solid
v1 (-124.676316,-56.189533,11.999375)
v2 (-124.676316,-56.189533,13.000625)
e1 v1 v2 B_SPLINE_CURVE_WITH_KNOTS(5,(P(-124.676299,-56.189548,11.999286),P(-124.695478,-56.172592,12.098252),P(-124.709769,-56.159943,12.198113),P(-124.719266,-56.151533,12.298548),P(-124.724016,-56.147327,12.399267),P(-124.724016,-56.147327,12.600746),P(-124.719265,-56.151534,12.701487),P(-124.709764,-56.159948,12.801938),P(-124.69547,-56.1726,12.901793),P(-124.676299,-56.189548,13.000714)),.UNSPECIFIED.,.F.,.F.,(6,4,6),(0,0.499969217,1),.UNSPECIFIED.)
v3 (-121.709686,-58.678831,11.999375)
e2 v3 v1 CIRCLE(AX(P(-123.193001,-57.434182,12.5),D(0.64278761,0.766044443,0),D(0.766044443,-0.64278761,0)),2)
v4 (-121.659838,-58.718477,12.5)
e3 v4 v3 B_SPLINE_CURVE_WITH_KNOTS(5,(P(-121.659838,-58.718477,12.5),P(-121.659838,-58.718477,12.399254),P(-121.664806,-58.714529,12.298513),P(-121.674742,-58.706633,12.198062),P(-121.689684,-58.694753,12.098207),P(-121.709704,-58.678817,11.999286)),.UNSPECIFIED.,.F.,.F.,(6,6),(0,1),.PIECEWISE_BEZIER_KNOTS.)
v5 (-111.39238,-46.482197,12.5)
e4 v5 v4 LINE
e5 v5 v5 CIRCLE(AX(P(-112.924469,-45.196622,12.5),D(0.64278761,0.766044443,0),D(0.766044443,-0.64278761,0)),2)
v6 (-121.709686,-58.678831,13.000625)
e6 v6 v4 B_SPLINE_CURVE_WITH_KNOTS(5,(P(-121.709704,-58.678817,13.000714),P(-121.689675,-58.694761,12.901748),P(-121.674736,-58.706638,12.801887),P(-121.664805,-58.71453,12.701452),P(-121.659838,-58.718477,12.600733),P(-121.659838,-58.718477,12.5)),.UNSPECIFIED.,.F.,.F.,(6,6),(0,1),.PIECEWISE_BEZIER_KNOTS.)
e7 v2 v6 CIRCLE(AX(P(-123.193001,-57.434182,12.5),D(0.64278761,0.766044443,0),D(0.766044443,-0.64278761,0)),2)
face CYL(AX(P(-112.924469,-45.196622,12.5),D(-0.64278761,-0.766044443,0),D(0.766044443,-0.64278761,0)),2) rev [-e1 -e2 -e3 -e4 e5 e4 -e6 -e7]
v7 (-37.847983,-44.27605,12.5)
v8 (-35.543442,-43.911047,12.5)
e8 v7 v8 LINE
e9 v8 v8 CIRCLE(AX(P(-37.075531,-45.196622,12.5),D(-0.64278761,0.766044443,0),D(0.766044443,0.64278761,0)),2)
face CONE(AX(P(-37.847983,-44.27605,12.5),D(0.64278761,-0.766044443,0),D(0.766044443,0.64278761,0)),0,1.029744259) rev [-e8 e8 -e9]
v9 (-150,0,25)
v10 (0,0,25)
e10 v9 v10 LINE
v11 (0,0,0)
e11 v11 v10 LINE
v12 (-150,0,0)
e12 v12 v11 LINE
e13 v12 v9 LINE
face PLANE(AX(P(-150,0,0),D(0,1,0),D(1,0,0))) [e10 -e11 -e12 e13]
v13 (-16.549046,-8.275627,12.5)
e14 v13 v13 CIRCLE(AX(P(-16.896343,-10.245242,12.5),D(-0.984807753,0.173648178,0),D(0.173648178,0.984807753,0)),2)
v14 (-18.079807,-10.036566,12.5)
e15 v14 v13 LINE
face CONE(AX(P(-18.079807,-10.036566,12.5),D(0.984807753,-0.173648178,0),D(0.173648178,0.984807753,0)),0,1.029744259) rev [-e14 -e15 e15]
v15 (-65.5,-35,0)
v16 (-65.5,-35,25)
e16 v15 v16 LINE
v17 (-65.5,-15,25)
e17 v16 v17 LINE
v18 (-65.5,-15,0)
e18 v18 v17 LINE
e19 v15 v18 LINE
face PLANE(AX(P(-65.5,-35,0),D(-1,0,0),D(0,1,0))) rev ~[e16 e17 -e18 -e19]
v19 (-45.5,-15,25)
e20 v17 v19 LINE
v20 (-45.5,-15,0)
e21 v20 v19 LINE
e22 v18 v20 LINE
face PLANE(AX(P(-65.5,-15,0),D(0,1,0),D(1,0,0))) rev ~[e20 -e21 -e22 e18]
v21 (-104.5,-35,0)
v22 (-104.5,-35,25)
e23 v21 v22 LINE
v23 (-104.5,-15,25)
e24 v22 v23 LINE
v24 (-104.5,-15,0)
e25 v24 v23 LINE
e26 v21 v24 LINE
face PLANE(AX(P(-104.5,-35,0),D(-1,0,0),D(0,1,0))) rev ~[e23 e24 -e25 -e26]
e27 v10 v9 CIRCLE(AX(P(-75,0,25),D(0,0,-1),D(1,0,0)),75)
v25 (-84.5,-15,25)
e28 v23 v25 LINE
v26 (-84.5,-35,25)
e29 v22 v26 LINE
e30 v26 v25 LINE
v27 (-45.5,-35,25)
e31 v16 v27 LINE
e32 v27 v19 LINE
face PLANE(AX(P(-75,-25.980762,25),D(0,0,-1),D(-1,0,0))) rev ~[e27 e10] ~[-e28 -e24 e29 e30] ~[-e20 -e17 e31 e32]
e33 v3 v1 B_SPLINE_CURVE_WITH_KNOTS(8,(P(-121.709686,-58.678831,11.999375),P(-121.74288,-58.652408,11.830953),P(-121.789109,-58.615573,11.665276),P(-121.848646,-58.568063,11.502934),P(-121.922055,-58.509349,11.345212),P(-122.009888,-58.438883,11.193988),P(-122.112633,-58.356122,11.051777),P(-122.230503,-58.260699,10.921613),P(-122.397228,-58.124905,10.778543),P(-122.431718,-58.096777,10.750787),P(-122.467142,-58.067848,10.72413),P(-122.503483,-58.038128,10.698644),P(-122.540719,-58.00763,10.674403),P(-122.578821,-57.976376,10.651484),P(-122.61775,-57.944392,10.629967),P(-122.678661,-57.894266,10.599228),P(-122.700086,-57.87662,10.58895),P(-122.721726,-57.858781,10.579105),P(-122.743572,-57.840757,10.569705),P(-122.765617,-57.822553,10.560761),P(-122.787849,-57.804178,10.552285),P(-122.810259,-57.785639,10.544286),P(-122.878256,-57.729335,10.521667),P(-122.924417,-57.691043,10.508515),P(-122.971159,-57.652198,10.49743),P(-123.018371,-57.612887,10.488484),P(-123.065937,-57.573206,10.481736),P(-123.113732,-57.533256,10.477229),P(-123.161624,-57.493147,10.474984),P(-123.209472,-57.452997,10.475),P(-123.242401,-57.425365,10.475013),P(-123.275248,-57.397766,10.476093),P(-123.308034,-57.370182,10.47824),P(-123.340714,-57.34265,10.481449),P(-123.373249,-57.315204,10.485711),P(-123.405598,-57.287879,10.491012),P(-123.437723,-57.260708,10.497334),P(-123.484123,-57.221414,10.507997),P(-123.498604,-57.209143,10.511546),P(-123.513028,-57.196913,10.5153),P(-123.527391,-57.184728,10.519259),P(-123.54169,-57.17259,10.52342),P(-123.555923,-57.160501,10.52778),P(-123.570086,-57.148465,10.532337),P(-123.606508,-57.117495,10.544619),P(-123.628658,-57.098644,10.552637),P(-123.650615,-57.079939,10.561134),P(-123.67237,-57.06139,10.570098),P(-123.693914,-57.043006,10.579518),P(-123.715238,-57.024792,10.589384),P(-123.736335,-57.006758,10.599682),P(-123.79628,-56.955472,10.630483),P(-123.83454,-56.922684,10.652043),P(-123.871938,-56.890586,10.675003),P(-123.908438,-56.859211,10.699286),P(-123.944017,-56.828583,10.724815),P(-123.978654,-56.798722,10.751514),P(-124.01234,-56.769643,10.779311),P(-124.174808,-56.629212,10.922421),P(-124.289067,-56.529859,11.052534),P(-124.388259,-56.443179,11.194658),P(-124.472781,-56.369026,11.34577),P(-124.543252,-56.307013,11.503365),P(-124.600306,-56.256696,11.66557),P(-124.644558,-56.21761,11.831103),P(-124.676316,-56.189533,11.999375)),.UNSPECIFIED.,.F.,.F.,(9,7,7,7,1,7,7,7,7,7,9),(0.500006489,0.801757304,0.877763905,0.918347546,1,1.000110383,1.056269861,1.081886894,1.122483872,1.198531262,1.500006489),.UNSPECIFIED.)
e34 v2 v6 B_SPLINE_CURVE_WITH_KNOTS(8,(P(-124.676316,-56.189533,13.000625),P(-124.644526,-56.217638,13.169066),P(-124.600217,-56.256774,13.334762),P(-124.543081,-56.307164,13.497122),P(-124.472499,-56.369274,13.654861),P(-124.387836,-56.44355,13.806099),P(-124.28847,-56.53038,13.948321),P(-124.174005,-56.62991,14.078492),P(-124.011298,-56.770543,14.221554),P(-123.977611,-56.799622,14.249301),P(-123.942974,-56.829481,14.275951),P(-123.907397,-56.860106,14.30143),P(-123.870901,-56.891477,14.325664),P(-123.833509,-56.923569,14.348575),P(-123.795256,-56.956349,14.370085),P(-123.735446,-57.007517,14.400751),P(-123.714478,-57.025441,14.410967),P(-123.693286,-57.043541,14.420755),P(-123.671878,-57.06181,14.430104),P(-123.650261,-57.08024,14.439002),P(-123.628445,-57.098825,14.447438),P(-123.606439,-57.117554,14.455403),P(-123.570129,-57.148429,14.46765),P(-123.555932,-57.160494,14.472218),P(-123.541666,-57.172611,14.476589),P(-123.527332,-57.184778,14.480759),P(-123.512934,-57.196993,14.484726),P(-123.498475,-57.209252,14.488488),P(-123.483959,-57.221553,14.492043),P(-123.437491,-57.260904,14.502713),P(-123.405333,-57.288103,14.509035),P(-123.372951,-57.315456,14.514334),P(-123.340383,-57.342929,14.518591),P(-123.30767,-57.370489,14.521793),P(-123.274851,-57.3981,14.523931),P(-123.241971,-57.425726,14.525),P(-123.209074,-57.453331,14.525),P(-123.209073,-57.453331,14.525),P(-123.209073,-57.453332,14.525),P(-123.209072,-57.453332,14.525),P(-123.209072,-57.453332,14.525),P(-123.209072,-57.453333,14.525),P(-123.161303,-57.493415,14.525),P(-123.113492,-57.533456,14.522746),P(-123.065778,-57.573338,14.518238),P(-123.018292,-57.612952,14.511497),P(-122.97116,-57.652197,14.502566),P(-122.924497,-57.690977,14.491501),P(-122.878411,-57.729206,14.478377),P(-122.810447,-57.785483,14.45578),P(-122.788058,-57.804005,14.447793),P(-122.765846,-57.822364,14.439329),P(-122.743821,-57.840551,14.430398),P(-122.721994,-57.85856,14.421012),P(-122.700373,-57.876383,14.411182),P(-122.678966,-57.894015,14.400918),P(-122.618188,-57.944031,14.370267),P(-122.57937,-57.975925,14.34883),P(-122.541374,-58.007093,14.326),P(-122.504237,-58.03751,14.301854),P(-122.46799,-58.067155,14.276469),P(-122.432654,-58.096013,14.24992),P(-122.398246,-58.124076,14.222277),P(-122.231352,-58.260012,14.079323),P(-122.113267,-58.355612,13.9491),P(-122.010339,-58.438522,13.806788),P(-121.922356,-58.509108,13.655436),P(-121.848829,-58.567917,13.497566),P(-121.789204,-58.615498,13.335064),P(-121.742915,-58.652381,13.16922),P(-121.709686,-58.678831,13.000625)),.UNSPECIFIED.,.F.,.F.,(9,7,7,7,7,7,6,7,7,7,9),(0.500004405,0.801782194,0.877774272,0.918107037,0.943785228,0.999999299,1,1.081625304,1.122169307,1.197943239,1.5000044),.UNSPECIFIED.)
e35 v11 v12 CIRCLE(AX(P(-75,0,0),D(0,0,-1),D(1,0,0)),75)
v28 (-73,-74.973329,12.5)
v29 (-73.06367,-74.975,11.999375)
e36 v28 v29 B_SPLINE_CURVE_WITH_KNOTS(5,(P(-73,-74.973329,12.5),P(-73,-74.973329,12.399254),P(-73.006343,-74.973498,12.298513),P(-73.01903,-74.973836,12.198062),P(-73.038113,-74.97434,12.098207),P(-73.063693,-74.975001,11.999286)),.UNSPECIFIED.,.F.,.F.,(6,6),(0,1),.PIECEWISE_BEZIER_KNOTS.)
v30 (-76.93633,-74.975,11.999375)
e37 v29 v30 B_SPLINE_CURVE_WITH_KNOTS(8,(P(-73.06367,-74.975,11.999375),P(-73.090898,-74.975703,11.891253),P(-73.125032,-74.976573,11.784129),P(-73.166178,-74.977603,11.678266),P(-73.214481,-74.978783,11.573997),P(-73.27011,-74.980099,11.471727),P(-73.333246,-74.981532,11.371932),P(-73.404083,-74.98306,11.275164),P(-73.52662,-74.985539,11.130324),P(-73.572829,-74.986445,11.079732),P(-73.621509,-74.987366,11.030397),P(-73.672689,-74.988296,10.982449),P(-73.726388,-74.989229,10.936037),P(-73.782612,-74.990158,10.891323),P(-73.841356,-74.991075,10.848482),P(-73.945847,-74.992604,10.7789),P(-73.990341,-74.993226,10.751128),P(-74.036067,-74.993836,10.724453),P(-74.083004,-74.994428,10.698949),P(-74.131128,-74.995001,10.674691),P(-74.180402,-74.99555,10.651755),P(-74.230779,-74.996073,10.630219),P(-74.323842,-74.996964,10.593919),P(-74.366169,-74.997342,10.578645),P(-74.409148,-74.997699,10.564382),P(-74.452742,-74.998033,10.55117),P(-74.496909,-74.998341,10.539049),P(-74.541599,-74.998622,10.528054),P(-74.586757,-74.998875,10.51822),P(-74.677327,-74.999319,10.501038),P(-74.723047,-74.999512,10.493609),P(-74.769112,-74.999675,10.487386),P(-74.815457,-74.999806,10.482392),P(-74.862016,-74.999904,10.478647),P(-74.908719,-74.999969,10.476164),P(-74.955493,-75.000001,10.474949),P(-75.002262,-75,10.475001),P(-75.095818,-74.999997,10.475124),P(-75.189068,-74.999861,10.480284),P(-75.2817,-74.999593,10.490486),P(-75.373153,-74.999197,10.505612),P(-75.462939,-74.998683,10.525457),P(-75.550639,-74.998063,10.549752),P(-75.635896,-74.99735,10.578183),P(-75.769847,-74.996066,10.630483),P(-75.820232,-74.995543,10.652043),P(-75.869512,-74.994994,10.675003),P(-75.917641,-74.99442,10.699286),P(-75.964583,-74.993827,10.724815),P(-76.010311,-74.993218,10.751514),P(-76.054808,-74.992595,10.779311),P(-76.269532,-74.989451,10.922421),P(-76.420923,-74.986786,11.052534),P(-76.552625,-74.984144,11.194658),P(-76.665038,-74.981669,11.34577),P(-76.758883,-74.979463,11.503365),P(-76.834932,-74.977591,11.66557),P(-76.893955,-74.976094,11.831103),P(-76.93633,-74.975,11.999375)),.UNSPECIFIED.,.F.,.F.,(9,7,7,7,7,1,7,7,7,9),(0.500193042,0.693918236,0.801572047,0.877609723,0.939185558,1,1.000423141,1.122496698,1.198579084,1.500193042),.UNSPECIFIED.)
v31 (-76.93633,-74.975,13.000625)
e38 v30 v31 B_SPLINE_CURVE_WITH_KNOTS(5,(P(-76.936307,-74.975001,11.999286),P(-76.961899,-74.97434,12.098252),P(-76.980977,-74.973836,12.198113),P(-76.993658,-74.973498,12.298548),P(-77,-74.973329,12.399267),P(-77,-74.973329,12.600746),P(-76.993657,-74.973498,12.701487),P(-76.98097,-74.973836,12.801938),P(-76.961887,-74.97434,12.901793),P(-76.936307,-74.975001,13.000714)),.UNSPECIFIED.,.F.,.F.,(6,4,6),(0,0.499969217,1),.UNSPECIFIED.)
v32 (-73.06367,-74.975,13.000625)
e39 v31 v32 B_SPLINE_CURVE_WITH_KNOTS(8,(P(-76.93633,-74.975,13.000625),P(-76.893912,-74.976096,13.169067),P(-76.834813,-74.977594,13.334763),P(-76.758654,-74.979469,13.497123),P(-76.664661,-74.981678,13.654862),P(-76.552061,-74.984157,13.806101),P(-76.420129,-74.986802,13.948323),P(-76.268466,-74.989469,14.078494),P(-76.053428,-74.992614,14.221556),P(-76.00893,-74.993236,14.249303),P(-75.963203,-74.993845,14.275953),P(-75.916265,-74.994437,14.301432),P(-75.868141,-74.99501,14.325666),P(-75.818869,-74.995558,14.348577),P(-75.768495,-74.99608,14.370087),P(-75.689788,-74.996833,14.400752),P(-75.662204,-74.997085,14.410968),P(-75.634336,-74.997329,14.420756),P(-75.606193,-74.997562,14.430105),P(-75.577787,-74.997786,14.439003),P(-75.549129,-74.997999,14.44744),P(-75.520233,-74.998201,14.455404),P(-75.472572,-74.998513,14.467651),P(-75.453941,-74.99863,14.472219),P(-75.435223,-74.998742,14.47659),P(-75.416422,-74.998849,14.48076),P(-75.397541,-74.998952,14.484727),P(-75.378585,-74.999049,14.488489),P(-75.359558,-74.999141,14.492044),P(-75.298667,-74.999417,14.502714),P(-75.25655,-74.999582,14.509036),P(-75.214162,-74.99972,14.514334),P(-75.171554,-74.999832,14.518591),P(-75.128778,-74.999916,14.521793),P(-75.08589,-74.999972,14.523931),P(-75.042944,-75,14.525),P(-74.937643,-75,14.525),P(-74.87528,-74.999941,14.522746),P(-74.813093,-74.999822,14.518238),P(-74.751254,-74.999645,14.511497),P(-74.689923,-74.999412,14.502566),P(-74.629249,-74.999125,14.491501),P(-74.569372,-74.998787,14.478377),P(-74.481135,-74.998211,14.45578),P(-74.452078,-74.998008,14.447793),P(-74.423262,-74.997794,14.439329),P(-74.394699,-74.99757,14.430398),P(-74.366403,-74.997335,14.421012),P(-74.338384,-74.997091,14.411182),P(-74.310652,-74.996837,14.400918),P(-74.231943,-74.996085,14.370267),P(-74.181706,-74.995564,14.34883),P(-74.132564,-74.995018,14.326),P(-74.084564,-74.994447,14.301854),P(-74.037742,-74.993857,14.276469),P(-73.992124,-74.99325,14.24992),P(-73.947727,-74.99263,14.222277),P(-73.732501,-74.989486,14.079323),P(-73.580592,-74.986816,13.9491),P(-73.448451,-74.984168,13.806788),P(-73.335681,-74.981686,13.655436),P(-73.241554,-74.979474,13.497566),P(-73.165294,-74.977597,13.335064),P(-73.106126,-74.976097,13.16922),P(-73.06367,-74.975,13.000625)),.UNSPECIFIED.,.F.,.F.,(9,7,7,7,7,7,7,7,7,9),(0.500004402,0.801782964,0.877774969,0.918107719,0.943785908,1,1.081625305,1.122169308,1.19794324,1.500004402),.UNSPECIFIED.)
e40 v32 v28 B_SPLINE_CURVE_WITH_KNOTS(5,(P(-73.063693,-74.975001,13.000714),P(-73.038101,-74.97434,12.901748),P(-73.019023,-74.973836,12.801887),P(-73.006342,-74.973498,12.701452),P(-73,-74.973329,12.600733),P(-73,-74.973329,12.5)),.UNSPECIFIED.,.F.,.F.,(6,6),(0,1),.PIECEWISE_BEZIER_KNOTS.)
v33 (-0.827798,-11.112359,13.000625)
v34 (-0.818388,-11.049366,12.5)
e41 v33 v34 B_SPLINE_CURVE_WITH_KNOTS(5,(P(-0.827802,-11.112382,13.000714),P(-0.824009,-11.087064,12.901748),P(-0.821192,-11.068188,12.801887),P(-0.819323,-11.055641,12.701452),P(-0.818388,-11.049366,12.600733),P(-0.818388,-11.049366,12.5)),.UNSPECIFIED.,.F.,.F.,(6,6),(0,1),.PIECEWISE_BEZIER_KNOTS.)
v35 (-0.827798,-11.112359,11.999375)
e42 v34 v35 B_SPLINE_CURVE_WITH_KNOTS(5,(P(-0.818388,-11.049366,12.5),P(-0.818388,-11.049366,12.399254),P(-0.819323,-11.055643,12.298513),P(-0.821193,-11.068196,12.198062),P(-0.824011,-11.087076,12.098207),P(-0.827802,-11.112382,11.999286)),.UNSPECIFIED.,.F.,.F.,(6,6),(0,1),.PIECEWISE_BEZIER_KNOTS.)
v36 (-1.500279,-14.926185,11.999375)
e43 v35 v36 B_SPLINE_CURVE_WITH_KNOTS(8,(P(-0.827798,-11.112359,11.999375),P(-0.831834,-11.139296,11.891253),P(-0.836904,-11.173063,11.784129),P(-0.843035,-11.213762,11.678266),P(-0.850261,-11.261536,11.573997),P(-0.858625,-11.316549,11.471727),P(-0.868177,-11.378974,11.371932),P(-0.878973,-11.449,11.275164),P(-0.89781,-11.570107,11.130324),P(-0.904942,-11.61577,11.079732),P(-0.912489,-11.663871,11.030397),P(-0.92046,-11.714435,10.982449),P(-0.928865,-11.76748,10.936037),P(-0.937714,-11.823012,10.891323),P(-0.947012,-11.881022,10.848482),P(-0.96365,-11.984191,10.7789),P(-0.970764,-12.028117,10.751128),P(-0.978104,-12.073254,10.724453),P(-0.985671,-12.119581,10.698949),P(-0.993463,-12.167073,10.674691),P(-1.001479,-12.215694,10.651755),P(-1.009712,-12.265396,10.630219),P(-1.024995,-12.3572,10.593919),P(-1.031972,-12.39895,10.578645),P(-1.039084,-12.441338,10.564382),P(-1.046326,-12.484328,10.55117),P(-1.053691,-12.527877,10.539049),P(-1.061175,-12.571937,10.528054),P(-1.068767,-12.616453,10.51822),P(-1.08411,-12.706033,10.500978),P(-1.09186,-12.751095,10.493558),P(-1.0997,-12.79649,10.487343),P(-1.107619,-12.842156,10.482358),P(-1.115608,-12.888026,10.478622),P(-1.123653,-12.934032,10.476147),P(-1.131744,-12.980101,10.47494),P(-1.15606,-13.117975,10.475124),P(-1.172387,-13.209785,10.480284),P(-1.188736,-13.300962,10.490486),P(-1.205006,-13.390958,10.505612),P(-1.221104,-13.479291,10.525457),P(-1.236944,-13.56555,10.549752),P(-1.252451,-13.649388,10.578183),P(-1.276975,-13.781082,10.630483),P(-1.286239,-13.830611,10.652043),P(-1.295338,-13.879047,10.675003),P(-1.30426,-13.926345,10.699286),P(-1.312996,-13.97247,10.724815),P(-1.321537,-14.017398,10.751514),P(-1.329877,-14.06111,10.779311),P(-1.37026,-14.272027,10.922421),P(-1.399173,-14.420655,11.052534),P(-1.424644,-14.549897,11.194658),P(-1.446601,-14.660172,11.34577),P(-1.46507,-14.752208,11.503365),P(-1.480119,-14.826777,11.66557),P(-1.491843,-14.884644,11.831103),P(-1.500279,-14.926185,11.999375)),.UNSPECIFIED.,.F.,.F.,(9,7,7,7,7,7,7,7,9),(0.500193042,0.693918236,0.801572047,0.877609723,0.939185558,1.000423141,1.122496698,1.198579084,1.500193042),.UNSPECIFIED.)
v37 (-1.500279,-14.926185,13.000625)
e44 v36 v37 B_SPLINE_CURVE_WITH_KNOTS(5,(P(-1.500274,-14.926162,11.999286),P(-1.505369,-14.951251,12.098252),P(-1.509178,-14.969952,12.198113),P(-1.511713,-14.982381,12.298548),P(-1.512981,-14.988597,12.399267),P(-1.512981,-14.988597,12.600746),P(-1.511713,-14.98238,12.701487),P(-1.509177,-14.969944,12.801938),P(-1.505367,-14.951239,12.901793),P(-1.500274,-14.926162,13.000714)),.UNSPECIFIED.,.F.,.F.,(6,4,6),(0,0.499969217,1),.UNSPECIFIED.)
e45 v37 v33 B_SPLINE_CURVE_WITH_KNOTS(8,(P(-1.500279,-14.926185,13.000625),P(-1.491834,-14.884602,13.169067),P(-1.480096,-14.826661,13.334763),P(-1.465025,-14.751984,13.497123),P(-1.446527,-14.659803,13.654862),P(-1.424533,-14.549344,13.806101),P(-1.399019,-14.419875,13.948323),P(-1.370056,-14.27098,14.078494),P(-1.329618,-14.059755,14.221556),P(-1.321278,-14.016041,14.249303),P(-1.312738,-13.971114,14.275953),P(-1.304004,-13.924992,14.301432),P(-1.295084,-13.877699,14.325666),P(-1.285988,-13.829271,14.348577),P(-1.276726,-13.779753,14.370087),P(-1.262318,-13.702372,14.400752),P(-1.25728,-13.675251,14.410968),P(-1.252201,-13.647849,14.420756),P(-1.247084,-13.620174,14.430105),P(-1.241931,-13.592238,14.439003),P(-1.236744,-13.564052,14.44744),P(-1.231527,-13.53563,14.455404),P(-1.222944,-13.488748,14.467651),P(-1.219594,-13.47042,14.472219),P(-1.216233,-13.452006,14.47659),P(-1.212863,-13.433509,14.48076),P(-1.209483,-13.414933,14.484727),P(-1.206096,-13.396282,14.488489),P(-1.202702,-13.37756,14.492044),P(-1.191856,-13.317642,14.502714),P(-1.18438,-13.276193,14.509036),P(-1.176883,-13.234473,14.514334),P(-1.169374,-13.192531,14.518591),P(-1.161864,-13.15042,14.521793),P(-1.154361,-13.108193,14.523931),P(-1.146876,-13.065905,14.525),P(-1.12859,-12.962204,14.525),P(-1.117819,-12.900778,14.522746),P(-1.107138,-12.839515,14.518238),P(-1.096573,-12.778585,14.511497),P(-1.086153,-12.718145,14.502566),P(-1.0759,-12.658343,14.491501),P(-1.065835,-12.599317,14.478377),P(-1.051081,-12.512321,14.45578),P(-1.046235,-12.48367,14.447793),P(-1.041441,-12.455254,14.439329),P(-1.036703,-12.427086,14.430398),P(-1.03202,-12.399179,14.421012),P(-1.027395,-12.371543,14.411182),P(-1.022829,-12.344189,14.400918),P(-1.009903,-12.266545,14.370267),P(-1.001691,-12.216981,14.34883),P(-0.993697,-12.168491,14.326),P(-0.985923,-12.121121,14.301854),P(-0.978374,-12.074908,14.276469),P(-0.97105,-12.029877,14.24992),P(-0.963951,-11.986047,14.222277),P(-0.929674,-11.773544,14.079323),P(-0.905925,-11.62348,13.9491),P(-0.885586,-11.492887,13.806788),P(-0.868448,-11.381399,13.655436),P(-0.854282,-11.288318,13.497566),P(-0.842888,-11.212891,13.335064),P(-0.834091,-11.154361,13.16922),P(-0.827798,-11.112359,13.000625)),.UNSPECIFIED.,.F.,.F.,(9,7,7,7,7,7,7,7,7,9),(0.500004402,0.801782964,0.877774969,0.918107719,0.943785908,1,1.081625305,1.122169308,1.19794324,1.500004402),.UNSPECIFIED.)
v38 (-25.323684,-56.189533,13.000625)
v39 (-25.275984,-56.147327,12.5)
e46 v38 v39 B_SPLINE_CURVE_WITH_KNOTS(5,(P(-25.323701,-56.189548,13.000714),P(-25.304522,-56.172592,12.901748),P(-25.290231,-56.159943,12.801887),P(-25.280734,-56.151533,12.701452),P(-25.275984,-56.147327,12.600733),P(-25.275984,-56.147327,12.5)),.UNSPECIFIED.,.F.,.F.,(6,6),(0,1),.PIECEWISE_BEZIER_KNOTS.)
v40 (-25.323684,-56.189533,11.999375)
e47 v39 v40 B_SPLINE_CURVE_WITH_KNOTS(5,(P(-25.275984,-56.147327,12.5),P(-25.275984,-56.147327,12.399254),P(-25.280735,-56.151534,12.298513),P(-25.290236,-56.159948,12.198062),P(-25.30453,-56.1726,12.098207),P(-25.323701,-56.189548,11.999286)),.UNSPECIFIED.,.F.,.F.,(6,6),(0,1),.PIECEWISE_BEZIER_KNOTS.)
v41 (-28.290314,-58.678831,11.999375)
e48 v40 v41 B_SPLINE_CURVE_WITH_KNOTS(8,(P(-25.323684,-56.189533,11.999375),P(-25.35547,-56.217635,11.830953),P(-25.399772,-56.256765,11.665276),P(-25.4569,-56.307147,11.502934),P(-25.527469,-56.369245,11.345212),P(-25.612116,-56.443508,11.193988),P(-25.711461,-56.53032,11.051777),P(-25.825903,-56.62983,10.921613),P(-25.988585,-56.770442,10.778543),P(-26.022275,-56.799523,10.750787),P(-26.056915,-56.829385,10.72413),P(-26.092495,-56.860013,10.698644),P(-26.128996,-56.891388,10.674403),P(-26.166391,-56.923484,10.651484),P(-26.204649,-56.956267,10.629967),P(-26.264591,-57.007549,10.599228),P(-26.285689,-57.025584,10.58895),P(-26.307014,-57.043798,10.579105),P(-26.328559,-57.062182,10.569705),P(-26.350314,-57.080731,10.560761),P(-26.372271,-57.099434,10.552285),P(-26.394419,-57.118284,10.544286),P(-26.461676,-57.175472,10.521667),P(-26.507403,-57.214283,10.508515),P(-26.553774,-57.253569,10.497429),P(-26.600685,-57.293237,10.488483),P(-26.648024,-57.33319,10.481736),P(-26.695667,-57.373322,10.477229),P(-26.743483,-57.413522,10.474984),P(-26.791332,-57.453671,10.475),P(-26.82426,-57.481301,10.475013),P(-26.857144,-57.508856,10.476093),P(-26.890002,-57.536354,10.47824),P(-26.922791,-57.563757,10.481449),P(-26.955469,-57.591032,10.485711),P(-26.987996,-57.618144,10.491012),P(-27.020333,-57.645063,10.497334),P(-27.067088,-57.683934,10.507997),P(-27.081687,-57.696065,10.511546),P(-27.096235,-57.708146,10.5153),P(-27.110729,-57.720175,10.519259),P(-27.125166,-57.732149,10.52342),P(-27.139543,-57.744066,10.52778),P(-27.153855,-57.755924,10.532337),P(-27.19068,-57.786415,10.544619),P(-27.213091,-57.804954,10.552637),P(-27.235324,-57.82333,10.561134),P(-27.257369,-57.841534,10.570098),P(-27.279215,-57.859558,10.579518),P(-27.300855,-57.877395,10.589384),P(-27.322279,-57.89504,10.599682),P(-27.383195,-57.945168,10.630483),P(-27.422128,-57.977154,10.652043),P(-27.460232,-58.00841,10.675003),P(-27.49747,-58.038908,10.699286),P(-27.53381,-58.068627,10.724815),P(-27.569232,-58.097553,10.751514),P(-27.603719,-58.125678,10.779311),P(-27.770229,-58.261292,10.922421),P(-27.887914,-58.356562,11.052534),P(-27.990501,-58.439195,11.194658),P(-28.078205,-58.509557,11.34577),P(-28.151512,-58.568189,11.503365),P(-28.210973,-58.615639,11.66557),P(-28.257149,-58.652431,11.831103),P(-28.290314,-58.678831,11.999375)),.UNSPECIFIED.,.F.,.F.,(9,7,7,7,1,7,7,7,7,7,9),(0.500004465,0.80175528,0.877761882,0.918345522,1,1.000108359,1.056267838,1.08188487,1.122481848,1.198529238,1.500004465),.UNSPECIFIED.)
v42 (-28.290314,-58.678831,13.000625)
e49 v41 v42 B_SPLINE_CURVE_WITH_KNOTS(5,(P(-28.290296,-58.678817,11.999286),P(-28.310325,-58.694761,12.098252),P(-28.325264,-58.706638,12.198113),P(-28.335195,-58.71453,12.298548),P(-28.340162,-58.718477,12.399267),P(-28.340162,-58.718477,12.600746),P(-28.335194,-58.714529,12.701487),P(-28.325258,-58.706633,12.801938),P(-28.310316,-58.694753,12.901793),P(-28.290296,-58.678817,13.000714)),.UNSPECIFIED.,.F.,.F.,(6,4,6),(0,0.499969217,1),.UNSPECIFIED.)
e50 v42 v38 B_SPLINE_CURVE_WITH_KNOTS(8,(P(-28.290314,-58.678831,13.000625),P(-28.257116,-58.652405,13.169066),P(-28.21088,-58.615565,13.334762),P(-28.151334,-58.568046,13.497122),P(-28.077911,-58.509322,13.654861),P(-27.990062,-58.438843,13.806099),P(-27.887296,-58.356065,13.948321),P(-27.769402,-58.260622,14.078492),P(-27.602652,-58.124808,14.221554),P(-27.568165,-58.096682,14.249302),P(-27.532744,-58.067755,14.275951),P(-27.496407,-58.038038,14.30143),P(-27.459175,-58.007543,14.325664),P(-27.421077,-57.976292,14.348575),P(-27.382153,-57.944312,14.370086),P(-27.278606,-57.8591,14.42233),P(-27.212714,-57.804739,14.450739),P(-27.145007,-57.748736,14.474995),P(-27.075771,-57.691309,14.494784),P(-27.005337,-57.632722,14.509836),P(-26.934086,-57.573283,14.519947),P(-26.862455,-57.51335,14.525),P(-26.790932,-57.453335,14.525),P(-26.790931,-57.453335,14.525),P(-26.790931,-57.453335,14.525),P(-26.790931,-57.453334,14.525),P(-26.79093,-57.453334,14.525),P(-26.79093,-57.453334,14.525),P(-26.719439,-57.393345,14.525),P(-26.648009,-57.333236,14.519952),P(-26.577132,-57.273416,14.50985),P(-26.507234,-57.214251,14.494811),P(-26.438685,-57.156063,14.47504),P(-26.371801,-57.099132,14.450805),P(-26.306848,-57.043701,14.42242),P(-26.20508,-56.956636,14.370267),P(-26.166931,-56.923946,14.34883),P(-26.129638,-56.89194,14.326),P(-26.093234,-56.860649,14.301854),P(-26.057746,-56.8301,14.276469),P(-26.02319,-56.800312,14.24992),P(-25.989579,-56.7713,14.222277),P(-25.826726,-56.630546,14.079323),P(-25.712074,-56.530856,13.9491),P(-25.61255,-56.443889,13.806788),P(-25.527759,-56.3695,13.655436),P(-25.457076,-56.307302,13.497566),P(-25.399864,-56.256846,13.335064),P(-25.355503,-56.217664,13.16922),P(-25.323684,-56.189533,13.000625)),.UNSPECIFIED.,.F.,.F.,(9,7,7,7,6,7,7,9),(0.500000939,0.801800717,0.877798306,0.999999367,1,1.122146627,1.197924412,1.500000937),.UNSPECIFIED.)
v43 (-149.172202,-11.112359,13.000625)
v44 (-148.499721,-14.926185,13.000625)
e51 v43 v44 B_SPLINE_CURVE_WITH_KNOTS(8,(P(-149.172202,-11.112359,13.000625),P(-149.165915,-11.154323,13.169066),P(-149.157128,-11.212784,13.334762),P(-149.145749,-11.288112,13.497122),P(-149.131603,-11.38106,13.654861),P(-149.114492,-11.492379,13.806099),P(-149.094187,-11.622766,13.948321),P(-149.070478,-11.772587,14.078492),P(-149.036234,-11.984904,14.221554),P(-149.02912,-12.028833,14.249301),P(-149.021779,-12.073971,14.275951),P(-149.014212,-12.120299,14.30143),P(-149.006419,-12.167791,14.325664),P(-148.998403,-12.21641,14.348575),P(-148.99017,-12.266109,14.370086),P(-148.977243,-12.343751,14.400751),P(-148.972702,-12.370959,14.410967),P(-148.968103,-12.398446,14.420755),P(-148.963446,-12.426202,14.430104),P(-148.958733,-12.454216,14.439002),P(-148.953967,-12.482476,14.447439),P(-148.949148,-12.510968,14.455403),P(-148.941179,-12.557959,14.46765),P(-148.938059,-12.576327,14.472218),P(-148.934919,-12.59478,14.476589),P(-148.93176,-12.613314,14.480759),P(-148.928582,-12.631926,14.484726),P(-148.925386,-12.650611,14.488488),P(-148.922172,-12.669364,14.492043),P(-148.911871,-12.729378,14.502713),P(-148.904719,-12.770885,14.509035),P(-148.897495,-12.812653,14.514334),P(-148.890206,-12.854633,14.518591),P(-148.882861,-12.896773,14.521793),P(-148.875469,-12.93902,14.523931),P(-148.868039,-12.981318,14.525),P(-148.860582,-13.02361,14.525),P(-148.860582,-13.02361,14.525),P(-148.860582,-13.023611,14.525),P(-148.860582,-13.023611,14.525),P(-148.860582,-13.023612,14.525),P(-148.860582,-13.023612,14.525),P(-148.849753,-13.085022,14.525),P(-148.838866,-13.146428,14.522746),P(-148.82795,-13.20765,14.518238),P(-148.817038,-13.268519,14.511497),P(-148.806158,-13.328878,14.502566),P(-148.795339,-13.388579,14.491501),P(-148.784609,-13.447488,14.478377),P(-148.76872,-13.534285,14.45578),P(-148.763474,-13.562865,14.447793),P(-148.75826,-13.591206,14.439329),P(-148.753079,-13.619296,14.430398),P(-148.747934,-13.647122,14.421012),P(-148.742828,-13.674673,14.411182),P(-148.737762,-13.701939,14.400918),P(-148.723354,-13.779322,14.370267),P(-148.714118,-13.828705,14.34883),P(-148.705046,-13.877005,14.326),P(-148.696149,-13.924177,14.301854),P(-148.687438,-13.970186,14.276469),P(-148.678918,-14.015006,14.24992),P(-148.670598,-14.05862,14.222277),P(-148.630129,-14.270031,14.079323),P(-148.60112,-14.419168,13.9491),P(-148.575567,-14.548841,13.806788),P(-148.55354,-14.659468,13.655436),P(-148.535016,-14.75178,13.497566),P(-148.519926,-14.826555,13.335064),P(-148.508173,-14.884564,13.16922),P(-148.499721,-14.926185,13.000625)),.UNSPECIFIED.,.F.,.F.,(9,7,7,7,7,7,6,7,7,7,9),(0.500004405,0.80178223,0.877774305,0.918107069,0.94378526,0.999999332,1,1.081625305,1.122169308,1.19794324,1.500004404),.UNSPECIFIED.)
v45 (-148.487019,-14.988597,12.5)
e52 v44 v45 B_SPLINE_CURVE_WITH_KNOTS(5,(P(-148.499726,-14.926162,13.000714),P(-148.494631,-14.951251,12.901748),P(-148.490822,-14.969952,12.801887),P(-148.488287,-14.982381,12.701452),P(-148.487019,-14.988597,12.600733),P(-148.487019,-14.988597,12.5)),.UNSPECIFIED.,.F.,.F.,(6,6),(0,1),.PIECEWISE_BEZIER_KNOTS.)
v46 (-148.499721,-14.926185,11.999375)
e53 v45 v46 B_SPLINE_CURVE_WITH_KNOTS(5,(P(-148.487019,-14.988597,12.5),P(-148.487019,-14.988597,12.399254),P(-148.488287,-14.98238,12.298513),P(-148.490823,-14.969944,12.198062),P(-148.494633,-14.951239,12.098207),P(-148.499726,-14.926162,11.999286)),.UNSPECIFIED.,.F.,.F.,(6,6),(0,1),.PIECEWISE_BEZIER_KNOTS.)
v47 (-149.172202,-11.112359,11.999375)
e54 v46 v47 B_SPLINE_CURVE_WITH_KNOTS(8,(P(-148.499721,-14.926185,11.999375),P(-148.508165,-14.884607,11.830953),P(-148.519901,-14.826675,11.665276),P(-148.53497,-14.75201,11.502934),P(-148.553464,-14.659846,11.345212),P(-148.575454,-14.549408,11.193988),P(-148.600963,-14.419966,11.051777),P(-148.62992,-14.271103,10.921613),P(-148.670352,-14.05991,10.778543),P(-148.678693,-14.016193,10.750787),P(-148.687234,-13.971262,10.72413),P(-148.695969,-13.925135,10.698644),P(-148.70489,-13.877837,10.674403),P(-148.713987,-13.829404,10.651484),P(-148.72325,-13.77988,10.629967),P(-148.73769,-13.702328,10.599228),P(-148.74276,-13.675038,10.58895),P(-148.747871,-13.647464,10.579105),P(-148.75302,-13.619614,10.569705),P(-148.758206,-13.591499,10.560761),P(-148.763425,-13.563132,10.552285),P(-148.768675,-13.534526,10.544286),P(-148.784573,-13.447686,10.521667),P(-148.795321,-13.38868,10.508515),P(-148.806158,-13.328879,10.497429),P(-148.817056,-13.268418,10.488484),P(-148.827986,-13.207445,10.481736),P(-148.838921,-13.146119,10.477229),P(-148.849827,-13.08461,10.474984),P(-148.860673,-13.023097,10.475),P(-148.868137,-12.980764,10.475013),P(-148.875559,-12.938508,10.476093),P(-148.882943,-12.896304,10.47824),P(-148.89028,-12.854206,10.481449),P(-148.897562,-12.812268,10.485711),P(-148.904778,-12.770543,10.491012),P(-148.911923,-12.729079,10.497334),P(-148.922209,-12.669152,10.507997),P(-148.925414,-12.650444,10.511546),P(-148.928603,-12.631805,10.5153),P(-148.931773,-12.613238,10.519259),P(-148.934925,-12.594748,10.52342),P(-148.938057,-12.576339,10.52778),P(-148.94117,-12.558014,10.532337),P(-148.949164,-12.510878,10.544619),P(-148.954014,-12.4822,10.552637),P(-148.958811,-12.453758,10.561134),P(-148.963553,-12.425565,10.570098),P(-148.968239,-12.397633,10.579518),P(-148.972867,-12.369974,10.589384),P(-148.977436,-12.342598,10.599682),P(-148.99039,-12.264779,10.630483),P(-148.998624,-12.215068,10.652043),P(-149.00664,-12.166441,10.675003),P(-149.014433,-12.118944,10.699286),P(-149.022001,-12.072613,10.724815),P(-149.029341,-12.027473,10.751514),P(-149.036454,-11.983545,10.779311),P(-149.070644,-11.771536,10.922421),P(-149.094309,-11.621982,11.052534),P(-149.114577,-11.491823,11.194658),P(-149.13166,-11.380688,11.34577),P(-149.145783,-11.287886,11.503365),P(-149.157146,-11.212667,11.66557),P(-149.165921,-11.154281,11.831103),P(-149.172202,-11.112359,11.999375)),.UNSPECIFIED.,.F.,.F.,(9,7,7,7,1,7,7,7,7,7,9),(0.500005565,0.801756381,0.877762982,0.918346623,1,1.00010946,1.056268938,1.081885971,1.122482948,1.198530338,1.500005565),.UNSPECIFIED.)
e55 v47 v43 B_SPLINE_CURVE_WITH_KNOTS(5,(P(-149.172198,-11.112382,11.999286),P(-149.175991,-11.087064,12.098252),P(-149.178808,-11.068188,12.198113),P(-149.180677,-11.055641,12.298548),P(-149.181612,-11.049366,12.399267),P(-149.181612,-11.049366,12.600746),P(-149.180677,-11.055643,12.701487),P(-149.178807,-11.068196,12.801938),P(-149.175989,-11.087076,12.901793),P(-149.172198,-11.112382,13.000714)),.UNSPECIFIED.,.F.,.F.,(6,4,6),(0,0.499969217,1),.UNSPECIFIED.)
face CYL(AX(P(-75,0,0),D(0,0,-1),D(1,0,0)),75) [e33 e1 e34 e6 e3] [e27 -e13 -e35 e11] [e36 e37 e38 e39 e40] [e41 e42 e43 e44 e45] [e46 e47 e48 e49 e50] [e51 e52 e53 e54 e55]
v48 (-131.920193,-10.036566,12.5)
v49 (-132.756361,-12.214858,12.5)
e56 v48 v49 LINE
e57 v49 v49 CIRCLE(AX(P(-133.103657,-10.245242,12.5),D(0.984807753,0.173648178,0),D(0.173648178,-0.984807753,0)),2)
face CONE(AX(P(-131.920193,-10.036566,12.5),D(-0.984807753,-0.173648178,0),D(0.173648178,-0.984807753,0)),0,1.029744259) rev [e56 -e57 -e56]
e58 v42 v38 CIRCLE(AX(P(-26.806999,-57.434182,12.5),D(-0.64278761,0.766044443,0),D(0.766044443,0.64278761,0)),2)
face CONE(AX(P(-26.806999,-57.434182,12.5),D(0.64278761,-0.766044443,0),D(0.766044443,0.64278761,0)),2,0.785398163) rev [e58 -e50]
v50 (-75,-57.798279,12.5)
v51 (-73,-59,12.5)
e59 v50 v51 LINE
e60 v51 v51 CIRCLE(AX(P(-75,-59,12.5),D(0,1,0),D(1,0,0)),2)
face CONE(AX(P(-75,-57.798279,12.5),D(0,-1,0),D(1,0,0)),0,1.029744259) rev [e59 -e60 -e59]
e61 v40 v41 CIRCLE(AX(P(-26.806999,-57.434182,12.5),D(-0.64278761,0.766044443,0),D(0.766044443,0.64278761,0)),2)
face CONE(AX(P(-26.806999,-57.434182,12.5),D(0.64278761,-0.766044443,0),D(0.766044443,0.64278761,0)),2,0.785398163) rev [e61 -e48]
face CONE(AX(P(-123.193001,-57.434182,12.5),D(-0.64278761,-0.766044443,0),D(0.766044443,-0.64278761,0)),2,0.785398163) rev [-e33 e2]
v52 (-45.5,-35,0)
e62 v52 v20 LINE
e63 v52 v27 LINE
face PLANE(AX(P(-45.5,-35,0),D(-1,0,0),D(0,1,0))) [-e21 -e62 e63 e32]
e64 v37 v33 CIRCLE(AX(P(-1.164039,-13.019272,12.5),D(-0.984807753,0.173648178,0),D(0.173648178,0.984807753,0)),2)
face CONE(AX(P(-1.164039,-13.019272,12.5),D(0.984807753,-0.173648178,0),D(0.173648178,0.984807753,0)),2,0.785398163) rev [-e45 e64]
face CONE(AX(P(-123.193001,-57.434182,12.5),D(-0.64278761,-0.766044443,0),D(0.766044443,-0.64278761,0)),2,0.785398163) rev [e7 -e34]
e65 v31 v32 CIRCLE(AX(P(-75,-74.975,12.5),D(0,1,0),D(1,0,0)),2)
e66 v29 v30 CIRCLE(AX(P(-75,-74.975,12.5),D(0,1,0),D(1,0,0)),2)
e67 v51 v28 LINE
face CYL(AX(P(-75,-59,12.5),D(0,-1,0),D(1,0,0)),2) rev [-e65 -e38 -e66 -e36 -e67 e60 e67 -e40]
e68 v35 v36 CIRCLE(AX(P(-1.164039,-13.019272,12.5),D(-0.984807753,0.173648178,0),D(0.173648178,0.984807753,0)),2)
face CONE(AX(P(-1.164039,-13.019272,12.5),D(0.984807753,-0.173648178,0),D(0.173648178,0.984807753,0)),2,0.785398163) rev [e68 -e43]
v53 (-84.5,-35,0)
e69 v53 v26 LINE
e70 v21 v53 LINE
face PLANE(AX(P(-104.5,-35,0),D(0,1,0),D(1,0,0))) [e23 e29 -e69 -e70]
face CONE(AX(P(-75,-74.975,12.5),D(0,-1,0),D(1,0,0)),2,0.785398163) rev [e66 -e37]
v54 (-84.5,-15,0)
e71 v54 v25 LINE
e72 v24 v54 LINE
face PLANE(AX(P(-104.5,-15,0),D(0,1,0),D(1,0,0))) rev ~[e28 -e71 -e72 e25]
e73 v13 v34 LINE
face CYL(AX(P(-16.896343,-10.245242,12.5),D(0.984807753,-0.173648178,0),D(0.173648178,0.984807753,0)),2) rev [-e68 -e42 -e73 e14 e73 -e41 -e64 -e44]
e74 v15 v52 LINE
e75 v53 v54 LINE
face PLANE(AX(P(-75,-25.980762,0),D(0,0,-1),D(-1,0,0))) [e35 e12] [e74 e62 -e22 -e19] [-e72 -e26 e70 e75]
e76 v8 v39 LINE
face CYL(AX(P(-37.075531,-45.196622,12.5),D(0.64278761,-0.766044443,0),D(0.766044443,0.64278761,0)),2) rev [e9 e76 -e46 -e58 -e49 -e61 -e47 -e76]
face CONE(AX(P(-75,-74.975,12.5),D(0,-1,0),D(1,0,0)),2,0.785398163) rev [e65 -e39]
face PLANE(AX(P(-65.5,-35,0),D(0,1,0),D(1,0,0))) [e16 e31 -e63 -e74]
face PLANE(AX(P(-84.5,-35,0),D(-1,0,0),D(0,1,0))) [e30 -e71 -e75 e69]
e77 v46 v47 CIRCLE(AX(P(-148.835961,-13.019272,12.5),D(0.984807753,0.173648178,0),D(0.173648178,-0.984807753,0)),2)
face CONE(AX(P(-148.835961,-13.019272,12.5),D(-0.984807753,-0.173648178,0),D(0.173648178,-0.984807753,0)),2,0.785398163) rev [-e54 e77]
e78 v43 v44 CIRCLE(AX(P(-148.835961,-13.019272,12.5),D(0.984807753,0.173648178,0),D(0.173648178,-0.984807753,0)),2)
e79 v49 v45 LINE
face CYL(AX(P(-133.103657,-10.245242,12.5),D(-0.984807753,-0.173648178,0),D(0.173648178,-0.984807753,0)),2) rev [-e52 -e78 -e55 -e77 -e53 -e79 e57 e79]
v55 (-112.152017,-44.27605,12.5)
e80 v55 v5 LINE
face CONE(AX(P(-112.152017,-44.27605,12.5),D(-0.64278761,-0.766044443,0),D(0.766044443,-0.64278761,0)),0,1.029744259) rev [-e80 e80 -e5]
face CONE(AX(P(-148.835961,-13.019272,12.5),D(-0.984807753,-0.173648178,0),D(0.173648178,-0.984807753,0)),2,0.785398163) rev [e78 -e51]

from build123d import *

# Parameters (mm, degrees)
SKETCH1_W           = 20
SKETCH1_H           = 20
BOSS_EXTRUDE1_DEPTH = 25
CIRPATTERN1_COUNT   = 5
CIRPATTERN1_ANGLE   = 160


with BuildPart() as part:
    # Sketch1 → Boss-Extrude1 (new body)
    with BuildSketch(Plane.XY):
        with BuildLine():
            Line((-150, 0), (0, 0))
            ThreePointArc((0, 0), (-75, -75), (-150, 0))
        make_face()
        with Locations((-55.5, -25)):
            Rectangle(SKETCH1_W, SKETCH1_H, mode=Mode.SUBTRACT)
        with Locations((-94.5, -25)):
            Rectangle(SKETCH1_W, SKETCH1_H, mode=Mode.SUBTRACT)
    extrude(amount=BOSS_EXTRUDE1_DEPTH)

    # Sketch4 → Ø4.0mm Dowel Hole2 (revolve, cut)
    with BuildSketch(Plane(origin=(-1.139418524, -13.023613325, 12.5), x_dir=(0.17364817766693047, 0.9848077530122081, 0), z_dir=(0, 0, 1))):
        Polygon((0, 0), (0, 17.201721238), (2, 16), (2, 0.025), (2.025, 0), align=None)
    f_4_0mm_dowel_hole2 = revolve(axis=Axis((5.114110708, -14.126279253, 12.5), (-0.9848077530122081, 0.17364817766693044, 0)), mode=Mode.SUBTRACT)

    # CirPattern1: Ø4.0mm Dowel Hole2 ×5 about axis
    cirpattern1_axis = Axis((-75, 0, 0), (0, 0, -1))
    for i in range(1, CIRPATTERN1_COUNT):
        add(f_4_0mm_dowel_hole2.rotate(cirpattern1_axis, i * CIRPATTERN1_ANGLE / (CIRPATTERN1_COUNT - 1)), mode=Mode.SUBTRACT)


solid = part.part
